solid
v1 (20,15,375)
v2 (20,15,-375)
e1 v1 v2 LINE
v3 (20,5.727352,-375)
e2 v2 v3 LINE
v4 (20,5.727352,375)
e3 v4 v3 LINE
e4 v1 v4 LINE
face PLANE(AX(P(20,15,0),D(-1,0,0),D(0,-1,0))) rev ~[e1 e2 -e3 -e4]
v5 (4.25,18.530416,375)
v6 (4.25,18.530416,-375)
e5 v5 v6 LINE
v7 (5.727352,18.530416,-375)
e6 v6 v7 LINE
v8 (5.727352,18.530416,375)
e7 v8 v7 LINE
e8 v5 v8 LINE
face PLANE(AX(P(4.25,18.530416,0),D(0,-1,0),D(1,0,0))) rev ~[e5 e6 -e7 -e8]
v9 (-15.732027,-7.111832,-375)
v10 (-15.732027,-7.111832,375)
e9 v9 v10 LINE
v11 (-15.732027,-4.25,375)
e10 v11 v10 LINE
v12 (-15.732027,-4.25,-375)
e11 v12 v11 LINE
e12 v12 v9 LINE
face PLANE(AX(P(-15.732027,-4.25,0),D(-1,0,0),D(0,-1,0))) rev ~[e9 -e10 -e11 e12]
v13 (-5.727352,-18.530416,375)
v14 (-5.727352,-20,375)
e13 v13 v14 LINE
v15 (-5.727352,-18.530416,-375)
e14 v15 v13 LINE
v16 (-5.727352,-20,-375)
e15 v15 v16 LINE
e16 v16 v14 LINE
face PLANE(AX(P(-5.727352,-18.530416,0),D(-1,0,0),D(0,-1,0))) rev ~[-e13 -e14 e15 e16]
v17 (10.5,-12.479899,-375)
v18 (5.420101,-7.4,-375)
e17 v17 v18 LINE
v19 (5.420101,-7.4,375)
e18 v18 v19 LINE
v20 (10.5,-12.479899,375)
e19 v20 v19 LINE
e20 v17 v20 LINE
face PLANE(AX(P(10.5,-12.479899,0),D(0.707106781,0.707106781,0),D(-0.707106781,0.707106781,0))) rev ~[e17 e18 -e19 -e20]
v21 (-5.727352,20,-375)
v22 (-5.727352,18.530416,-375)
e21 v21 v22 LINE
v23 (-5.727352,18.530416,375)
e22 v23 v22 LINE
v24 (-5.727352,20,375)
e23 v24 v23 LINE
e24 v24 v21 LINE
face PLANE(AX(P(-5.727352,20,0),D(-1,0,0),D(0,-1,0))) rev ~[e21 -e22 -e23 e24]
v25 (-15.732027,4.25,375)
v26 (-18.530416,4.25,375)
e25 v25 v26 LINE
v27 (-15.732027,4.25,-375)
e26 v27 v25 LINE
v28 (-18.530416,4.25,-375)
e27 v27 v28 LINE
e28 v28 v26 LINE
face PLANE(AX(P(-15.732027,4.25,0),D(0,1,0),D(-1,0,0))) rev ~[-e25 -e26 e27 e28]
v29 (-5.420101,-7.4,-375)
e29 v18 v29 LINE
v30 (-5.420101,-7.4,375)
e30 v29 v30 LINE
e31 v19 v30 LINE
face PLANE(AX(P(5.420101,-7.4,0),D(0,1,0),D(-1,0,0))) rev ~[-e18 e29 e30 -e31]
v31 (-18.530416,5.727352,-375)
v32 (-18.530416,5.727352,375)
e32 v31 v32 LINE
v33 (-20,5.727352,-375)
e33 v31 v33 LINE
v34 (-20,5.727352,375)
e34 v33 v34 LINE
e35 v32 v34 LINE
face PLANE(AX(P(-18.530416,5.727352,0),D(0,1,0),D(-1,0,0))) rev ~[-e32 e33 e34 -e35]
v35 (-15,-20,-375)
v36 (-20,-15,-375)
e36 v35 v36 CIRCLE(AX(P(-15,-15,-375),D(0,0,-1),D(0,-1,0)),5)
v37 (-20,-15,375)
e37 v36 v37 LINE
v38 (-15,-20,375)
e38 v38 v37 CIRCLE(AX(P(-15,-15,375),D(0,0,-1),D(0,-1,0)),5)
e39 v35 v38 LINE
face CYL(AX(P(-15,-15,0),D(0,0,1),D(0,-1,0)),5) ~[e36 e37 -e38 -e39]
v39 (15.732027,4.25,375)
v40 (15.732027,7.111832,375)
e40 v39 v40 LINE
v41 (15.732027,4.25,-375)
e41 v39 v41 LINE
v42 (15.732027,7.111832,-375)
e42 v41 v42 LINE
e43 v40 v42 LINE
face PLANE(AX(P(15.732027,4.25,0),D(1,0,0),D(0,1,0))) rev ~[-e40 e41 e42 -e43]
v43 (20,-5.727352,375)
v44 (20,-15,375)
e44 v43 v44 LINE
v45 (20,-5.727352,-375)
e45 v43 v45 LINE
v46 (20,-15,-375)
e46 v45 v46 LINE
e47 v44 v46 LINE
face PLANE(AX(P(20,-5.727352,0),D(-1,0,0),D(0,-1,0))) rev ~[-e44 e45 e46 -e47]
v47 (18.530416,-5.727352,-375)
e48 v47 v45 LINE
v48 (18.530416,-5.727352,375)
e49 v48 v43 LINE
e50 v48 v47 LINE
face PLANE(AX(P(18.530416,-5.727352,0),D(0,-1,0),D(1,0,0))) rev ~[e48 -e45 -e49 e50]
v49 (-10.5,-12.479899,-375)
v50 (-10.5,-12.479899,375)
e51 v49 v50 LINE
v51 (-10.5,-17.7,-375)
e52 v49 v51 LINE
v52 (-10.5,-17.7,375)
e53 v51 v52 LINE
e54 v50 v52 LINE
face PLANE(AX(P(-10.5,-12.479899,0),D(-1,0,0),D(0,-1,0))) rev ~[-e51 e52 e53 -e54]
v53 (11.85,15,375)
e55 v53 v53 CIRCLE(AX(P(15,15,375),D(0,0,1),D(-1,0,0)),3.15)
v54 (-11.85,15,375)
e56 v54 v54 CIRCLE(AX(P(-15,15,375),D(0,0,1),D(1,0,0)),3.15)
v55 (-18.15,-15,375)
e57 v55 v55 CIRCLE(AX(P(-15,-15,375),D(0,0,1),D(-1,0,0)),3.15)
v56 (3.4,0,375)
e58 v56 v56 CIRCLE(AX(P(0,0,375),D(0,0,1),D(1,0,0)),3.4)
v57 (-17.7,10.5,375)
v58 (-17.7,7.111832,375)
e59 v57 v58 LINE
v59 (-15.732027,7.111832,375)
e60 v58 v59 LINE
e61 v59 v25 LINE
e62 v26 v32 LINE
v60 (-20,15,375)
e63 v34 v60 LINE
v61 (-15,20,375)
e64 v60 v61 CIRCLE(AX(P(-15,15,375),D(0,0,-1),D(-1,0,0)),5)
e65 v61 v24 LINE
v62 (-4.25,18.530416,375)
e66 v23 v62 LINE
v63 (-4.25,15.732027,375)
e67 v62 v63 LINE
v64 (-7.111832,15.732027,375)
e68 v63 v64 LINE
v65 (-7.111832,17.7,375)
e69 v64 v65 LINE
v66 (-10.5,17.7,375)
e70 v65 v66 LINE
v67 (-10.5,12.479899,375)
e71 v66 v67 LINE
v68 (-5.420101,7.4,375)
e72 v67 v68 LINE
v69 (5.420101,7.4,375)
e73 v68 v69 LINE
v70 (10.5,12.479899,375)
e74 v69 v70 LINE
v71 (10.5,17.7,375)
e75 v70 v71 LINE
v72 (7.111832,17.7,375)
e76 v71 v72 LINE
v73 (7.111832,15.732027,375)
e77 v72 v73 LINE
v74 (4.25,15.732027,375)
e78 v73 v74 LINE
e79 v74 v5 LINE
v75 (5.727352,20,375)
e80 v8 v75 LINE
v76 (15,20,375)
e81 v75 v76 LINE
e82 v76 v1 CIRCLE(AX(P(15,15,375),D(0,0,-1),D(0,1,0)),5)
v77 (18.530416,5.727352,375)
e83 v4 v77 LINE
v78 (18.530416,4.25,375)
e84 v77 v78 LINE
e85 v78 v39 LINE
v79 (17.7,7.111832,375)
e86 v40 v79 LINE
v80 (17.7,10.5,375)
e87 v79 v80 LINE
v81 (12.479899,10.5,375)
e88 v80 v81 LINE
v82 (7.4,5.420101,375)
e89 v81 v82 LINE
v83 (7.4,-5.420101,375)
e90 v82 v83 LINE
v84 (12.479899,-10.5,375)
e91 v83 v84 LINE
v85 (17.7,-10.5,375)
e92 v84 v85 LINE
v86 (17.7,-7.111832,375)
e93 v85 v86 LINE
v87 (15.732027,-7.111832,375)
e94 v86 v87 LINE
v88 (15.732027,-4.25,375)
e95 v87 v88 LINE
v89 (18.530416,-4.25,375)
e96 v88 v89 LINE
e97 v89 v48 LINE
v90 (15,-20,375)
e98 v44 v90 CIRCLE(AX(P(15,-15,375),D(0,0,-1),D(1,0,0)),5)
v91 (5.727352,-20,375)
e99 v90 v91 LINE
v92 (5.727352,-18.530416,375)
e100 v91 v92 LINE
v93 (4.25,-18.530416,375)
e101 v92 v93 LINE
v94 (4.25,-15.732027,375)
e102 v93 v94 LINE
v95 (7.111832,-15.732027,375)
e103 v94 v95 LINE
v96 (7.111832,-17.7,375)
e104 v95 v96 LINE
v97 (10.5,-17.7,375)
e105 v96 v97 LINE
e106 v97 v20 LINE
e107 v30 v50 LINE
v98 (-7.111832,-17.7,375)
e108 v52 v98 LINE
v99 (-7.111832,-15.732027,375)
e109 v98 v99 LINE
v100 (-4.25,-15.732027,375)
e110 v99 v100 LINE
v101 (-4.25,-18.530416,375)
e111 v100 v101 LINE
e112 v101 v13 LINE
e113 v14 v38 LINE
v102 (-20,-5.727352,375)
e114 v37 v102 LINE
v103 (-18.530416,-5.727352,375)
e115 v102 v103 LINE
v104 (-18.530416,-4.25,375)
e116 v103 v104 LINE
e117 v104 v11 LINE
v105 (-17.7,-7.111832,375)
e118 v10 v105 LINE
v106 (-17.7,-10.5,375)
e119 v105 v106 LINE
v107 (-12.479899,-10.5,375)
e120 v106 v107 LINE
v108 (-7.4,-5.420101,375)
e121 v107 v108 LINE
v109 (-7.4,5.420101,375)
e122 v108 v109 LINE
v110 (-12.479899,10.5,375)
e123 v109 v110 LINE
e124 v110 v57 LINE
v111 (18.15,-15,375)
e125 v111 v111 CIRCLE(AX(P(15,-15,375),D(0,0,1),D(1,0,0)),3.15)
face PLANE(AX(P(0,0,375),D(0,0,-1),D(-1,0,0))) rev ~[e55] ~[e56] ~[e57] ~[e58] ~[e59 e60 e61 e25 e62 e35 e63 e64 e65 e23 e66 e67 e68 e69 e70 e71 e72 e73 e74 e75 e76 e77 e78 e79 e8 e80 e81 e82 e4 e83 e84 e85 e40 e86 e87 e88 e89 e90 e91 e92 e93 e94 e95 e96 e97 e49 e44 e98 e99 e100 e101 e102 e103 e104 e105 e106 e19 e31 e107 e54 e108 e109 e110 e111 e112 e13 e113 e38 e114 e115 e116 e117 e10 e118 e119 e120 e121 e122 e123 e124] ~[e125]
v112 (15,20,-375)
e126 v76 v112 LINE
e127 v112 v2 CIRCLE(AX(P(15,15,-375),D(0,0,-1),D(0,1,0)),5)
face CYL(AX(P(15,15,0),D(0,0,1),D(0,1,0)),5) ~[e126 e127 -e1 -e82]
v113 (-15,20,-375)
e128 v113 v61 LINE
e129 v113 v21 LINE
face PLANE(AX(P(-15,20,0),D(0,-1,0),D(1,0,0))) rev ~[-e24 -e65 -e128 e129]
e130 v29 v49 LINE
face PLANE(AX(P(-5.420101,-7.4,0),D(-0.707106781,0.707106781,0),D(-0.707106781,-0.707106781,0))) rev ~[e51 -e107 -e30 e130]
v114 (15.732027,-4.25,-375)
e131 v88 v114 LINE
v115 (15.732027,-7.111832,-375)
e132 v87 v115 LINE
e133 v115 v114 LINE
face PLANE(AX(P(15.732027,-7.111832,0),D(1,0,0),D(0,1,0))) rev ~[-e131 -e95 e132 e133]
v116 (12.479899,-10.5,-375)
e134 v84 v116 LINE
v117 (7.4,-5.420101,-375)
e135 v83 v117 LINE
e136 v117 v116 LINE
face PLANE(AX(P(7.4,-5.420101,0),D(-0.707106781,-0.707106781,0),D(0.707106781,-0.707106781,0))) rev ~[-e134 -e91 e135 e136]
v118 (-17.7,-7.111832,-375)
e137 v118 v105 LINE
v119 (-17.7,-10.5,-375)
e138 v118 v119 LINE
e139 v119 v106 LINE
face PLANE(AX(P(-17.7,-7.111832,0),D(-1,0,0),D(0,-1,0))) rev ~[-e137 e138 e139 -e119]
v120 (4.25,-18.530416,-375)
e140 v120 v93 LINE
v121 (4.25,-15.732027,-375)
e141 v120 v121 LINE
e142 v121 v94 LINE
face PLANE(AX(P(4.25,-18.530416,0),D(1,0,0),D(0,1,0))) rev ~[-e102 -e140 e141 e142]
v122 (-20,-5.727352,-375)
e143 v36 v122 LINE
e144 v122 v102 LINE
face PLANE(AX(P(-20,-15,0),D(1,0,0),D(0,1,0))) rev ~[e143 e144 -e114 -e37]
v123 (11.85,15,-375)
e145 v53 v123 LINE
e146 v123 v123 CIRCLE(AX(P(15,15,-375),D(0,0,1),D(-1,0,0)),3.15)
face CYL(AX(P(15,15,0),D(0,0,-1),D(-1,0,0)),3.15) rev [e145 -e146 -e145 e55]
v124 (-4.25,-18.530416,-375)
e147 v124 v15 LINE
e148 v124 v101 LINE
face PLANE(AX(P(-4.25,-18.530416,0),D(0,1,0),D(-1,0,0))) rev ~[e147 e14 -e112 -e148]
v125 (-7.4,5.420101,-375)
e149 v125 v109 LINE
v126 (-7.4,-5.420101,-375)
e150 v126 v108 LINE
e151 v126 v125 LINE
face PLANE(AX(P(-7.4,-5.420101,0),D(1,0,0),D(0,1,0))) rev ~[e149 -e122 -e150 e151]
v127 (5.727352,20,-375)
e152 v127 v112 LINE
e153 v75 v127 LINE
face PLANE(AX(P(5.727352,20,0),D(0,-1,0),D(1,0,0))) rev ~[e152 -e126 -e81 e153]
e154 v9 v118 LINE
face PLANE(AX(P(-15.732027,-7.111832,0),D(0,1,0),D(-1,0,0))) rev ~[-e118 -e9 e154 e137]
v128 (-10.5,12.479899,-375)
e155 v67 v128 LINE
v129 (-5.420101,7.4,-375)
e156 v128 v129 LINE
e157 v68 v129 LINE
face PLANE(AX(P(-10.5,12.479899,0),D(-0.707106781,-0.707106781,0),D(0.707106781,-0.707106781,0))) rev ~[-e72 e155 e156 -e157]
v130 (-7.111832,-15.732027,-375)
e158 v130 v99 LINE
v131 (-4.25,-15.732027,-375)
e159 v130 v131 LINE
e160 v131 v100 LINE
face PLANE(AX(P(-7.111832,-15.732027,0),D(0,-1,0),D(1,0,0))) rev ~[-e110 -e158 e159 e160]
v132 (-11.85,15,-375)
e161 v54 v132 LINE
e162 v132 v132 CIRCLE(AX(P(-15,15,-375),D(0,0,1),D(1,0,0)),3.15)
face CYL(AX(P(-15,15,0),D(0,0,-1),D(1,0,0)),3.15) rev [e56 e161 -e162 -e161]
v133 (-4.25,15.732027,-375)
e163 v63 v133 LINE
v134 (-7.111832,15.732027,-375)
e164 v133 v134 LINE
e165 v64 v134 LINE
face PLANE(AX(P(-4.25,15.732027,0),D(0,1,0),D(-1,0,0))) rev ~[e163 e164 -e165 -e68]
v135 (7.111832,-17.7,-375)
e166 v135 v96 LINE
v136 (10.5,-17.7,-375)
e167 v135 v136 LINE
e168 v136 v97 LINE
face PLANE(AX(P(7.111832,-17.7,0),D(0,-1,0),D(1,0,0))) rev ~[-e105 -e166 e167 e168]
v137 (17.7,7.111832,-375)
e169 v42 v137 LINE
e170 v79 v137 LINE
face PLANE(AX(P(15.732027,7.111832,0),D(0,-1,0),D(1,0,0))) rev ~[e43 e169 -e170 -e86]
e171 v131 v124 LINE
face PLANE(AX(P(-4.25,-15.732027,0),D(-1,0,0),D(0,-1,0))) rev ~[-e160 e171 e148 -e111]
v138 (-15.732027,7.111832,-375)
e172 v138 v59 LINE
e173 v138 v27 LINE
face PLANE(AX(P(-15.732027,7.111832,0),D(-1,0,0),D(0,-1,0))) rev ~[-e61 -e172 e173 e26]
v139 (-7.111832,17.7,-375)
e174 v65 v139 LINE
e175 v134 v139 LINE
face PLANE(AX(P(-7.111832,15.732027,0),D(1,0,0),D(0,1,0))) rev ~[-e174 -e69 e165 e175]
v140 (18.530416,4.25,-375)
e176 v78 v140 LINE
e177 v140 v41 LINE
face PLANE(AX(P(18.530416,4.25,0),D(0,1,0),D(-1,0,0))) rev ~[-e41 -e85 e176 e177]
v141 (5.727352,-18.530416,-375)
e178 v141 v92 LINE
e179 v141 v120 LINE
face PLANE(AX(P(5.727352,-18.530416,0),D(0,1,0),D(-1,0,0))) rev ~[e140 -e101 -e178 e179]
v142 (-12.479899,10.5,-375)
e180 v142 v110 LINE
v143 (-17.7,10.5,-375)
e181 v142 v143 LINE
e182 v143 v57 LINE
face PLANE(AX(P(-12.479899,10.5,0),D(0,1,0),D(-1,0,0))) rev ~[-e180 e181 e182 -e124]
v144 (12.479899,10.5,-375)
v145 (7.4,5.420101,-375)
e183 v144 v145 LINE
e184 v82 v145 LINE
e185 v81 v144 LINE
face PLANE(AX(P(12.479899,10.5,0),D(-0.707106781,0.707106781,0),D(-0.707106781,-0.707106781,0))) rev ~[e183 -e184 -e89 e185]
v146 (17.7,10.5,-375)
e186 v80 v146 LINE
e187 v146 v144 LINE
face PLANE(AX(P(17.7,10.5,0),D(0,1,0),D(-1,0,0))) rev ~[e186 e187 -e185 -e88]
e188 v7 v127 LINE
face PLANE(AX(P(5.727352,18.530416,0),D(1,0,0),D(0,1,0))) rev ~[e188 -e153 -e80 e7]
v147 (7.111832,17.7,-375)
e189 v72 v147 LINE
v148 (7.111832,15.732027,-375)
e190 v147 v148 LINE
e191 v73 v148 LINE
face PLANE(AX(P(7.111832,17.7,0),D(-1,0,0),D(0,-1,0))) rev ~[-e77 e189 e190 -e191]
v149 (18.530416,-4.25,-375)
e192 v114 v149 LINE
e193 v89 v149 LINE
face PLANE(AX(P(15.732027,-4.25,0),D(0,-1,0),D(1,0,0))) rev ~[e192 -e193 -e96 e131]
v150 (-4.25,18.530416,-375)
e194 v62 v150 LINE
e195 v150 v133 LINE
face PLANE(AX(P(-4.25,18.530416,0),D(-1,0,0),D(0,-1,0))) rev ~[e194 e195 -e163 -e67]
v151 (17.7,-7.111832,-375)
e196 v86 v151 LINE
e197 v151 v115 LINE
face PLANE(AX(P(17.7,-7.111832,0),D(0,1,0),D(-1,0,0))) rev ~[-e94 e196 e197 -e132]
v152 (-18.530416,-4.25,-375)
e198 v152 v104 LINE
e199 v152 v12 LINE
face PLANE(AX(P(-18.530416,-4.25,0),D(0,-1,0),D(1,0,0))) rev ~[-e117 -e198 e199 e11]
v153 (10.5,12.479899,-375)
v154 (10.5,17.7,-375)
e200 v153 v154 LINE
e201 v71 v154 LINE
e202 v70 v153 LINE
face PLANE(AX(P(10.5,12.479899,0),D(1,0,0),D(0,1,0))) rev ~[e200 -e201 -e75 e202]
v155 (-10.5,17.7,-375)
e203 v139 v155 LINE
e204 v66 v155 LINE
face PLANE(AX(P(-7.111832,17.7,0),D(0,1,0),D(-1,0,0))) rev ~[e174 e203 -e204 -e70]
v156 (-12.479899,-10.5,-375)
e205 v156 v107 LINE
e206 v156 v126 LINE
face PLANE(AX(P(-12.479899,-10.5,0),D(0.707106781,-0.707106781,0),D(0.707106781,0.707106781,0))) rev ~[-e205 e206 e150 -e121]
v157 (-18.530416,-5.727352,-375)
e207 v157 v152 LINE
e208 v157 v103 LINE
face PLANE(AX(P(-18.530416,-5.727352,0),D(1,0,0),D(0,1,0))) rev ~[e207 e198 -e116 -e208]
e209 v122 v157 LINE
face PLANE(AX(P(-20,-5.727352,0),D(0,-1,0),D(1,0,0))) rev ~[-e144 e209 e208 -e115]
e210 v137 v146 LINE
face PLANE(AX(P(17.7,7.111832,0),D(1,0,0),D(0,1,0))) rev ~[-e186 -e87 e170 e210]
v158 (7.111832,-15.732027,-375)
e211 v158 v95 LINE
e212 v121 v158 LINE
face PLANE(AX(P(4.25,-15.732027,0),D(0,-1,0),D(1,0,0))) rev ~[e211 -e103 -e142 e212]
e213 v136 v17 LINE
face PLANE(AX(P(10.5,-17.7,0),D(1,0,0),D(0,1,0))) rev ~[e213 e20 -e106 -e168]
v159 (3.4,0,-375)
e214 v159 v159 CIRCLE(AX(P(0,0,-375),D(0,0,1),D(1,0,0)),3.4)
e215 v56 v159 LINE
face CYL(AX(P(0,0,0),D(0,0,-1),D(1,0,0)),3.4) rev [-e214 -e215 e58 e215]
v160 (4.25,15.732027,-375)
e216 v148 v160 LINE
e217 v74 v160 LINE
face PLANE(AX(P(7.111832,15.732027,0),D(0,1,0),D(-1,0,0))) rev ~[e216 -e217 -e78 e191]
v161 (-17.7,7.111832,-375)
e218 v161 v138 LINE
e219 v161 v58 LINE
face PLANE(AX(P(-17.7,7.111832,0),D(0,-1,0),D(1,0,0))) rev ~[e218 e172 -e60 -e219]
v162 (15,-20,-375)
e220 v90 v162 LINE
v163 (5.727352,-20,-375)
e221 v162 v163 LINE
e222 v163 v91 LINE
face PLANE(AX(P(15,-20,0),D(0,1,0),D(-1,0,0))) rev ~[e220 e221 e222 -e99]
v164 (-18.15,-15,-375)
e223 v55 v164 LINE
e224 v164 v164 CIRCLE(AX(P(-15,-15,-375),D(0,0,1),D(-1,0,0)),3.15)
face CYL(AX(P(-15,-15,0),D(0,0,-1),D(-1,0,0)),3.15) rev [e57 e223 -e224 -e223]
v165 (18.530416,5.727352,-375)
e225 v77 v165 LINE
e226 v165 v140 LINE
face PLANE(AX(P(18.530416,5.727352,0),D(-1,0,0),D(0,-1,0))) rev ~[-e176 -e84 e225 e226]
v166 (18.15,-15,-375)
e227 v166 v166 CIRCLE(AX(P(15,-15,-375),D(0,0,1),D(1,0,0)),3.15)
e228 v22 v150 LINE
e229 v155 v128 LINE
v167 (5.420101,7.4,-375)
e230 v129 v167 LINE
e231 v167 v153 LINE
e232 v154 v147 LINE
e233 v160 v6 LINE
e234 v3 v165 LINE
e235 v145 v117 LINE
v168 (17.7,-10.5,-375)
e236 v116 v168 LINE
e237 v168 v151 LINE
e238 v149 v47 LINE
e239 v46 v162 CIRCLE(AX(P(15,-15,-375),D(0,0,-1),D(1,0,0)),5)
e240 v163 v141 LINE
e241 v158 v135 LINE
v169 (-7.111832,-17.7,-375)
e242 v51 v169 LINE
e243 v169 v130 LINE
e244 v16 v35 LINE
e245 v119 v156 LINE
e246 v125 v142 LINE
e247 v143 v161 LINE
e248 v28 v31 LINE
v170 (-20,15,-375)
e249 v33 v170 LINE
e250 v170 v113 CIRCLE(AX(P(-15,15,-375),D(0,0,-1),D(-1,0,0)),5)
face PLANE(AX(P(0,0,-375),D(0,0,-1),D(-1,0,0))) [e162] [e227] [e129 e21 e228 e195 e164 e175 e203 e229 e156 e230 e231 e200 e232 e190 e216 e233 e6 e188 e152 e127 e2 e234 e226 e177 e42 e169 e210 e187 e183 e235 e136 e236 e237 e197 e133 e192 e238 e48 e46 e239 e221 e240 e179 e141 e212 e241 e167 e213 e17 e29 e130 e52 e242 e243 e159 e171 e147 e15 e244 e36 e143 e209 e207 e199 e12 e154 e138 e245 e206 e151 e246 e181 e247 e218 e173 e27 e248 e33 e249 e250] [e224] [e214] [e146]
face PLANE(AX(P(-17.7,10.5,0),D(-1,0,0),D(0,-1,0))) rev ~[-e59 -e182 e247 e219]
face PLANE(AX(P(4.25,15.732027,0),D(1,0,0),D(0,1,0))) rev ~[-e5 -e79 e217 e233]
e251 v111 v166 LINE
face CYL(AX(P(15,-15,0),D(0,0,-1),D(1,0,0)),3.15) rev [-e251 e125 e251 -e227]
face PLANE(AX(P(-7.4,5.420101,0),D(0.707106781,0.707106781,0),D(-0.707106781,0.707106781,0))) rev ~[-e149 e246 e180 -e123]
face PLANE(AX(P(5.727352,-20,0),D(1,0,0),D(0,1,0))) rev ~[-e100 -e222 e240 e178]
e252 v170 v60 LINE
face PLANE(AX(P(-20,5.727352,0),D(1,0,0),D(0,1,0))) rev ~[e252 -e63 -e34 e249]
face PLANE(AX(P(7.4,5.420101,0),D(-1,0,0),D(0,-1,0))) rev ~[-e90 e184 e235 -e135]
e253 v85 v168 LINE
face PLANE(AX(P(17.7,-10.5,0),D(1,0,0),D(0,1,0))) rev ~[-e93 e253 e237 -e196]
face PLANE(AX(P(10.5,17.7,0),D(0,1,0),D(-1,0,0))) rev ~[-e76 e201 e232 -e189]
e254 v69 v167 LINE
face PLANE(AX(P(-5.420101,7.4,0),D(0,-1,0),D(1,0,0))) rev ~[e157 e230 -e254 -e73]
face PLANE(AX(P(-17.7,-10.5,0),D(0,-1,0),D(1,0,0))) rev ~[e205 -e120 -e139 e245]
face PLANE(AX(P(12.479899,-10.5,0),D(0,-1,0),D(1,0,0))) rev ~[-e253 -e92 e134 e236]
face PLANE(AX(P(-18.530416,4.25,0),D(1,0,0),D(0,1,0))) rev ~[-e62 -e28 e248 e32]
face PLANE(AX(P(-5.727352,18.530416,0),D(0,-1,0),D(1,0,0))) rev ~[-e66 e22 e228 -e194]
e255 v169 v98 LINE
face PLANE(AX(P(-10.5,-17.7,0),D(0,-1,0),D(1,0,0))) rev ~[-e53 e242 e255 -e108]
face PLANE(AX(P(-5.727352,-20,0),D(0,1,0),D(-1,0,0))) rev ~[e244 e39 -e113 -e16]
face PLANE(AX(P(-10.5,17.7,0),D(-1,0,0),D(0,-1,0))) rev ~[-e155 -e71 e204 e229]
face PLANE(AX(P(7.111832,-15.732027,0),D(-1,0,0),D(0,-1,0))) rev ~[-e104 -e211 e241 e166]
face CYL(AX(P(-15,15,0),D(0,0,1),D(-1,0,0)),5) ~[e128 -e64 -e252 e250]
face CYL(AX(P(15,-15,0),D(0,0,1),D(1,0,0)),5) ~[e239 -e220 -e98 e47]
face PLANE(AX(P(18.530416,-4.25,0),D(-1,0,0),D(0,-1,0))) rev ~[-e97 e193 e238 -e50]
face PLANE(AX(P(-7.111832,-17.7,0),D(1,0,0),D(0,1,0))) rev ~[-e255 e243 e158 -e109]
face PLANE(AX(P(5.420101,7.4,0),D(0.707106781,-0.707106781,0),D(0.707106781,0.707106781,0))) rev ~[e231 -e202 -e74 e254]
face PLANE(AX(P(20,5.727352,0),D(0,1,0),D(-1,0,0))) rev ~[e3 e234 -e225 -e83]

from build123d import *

# Parameters (mm, degrees)
SKETCH_1_R      = 3.4
SKETCH_1_R_2    = 3.15
EXTRUDE_1_DEPTH = 375


with BuildPart() as part:
    # Эскиз1 → Бобышка-Вытянуть1 (new, symmetric)
    with BuildSketch(Plane.XY):
        with BuildLine():
            Line((-15, 20), (-5.727351849, 20))
            Line((-5.727351849, 20), (-5.727351849, 18.530416438))
            Line((-5.727351849, 18.530416438), (-4.25, 18.530416438))
            Line((-4.25, 18.530416438), (-4.25, 15.732027397))
            Line((-4.25, 15.732027397), (-7.111831817, 15.732027397))
            Line((-7.111831817, 15.732027397), (-7.111831817, 17.7))
            Line((-7.111831817, 17.7), (-10.5, 17.7))
            Line((-10.5, 17.7), (-10.5, 12.479898987))
            Line((-10.5, 12.479898987), (-5.420101013, 7.4))
            Line((-5.420101013, 7.4), (5.420101013, 7.4))
            Line((5.420101013, 7.4), (10.5, 12.479898987))
            Line((10.5, 12.479898987), (10.5, 17.7))
            Line((10.5, 17.7), (7.111831817, 17.7))
            Line((7.111831817, 17.7), (7.111831817, 15.732027397))
            Line((7.111831817, 15.732027397), (4.25, 15.732027397))
            Line((4.25, 15.732027397), (4.25, 18.530416438))
            Line((4.25, 18.530416438), (5.727351849, 18.530416438))
            Line((5.727351849, 18.530416438), (5.727351849, 20))
            Line((5.727351849, 20), (15, 20))
            ThreePointArc((15, 20), (18.535533906, 18.535533906), (20, 15))
            Line((20, 15), (20, 5.727351849))
            Line((20, 5.727351849), (18.530416438, 5.727351849))
            Line((18.530416438, 5.727351849), (18.530416438, 4.25))
            Line((18.530416438, 4.25), (15.732027397, 4.25))
            Line((15.732027397, 4.25), (15.732027397, 7.111831817))
            Line((15.732027397, 7.111831817), (17.7, 7.111831817))
            Line((17.7, 7.111831817), (17.7, 10.5))
            Line((17.7, 10.5), (12.479898987, 10.5))
            Line((12.479898987, 10.5), (7.4, 5.420101013))
            Line((7.4, 5.420101013), (7.4, -5.420101013))
            Line((7.4, -5.420101013), (12.479898987, -10.5))
            Line((12.479898987, -10.5), (17.7, -10.5))
            Line((17.7, -10.5), (17.7, -7.111831817))
            Line((17.7, -7.111831817), (15.732027397, -7.111831817))
            Line((15.732027397, -7.111831817), (15.732027397, -4.25))
            Line((15.732027397, -4.25), (18.530416438, -4.25))
            Line((18.530416438, -4.25), (18.530416438, -5.727351849))
            Line((18.530416438, -5.727351849), (20, -5.727351849))
            Line((20, -5.727351849), (20, -15))
            ThreePointArc((20, -15), (18.535533906, -18.535533906), (15, -20))
            Line((15, -20), (5.727351849, -20))
            Line((5.727351849, -20), (5.727351849, -18.530416438))
            Line((5.727351849, -18.530416438), (4.25, -18.530416438))
            Line((4.25, -18.530416438), (4.25, -15.732027397))
            Line((4.25, -15.732027397), (7.111831817, -15.732027397))
            Line((7.111831817, -15.732027397), (7.111831817, -17.7))
            Line((7.111831817, -17.7), (10.5, -17.7))
            Line((10.5, -17.7), (10.5, -12.479898987))
            Line((10.5, -12.479898987), (5.420101013, -7.4))
            Line((5.420101013, -7.4), (-5.420101013, -7.4))
            Line((-5.420101013, -7.4), (-10.5, -12.479898987))
            Line((-10.5, -12.479898987), (-10.5, -17.7))
            Line((-10.5, -17.7), (-7.111831817, -17.7))
            Line((-7.111831817, -17.7), (-7.111831817, -15.732027397))
            Line((-7.111831817, -15.732027397), (-4.25, -15.732027397))
            Line((-4.25, -15.732027397), (-4.25, -18.530416438))
            Line((-4.25, -18.530416438), (-5.727351849, -18.530416438))
            Line((-5.727351849, -18.530416438), (-5.727351849, -20))
            Line((-5.727351849, -20), (-15, -20))
            ThreePointArc((-15, -20), (-18.535533906, -18.535533906), (-20, -15))
            Line((-20, -15), (-20, -5.727351849))
            Line((-20, -5.727351849), (-18.530416438, -5.727351849))
            Line((-18.530416438, -5.727351849), (-18.530416438, -4.25))
            Line((-18.530416438, -4.25), (-15.732027397, -4.25))
            Line((-15.732027397, -4.25), (-15.732027397, -7.111831817))
            Line((-15.732027397, -7.111831817), (-17.7, -7.111831817))
            Line((-17.7, -7.111831817), (-17.7, -10.5))
            Line((-17.7, -10.5), (-12.479898987, -10.5))
            Line((-12.479898987, -10.5), (-7.4, -5.420101013))
            Line((-7.4, -5.420101013), (-7.4, 5.420101013))
            Line((-7.4, 5.420101013), (-12.479898987, 10.5))
            Line((-12.479898987, 10.5), (-17.7, 10.5))
            Line((-17.7, 10.5), (-17.7, 7.111831817))
            Line((-17.7, 7.111831817), (-15.732027397, 7.111831817))
            Line((-15.732027397, 7.111831817), (-15.732027397, 4.25))
            Line((-15.732027397, 4.25), (-18.530416438, 4.25))
            Line((-18.530416438, 4.25), (-18.530416438, 5.727351849))
            Line((-18.530416438, 5.727351849), (-20, 5.727351849))
            Line((-20, 5.727351849), (-20, 15))
            ThreePointArc((-20, 15), (-18.535533906, 18.535533906), (-15, 20))
        make_face()
        Circle(SKETCH_1_R, mode=Mode.SUBTRACT)
        with Locations((-15, 15)):
            Circle(SKETCH_1_R_2, mode=Mode.SUBTRACT)
        with Locations((15, 15)):
            Circle(SKETCH_1_R_2, mode=Mode.SUBTRACT)
        with Locations((15, -15)):
            Circle(SKETCH_1_R_2, mode=Mode.SUBTRACT)
        with Locations((-15, -15)):
            Circle(SKETCH_1_R_2, mode=Mode.SUBTRACT)
    extrude(amount=EXTRUDE_1_DEPTH, both=True)


solid = part.part
